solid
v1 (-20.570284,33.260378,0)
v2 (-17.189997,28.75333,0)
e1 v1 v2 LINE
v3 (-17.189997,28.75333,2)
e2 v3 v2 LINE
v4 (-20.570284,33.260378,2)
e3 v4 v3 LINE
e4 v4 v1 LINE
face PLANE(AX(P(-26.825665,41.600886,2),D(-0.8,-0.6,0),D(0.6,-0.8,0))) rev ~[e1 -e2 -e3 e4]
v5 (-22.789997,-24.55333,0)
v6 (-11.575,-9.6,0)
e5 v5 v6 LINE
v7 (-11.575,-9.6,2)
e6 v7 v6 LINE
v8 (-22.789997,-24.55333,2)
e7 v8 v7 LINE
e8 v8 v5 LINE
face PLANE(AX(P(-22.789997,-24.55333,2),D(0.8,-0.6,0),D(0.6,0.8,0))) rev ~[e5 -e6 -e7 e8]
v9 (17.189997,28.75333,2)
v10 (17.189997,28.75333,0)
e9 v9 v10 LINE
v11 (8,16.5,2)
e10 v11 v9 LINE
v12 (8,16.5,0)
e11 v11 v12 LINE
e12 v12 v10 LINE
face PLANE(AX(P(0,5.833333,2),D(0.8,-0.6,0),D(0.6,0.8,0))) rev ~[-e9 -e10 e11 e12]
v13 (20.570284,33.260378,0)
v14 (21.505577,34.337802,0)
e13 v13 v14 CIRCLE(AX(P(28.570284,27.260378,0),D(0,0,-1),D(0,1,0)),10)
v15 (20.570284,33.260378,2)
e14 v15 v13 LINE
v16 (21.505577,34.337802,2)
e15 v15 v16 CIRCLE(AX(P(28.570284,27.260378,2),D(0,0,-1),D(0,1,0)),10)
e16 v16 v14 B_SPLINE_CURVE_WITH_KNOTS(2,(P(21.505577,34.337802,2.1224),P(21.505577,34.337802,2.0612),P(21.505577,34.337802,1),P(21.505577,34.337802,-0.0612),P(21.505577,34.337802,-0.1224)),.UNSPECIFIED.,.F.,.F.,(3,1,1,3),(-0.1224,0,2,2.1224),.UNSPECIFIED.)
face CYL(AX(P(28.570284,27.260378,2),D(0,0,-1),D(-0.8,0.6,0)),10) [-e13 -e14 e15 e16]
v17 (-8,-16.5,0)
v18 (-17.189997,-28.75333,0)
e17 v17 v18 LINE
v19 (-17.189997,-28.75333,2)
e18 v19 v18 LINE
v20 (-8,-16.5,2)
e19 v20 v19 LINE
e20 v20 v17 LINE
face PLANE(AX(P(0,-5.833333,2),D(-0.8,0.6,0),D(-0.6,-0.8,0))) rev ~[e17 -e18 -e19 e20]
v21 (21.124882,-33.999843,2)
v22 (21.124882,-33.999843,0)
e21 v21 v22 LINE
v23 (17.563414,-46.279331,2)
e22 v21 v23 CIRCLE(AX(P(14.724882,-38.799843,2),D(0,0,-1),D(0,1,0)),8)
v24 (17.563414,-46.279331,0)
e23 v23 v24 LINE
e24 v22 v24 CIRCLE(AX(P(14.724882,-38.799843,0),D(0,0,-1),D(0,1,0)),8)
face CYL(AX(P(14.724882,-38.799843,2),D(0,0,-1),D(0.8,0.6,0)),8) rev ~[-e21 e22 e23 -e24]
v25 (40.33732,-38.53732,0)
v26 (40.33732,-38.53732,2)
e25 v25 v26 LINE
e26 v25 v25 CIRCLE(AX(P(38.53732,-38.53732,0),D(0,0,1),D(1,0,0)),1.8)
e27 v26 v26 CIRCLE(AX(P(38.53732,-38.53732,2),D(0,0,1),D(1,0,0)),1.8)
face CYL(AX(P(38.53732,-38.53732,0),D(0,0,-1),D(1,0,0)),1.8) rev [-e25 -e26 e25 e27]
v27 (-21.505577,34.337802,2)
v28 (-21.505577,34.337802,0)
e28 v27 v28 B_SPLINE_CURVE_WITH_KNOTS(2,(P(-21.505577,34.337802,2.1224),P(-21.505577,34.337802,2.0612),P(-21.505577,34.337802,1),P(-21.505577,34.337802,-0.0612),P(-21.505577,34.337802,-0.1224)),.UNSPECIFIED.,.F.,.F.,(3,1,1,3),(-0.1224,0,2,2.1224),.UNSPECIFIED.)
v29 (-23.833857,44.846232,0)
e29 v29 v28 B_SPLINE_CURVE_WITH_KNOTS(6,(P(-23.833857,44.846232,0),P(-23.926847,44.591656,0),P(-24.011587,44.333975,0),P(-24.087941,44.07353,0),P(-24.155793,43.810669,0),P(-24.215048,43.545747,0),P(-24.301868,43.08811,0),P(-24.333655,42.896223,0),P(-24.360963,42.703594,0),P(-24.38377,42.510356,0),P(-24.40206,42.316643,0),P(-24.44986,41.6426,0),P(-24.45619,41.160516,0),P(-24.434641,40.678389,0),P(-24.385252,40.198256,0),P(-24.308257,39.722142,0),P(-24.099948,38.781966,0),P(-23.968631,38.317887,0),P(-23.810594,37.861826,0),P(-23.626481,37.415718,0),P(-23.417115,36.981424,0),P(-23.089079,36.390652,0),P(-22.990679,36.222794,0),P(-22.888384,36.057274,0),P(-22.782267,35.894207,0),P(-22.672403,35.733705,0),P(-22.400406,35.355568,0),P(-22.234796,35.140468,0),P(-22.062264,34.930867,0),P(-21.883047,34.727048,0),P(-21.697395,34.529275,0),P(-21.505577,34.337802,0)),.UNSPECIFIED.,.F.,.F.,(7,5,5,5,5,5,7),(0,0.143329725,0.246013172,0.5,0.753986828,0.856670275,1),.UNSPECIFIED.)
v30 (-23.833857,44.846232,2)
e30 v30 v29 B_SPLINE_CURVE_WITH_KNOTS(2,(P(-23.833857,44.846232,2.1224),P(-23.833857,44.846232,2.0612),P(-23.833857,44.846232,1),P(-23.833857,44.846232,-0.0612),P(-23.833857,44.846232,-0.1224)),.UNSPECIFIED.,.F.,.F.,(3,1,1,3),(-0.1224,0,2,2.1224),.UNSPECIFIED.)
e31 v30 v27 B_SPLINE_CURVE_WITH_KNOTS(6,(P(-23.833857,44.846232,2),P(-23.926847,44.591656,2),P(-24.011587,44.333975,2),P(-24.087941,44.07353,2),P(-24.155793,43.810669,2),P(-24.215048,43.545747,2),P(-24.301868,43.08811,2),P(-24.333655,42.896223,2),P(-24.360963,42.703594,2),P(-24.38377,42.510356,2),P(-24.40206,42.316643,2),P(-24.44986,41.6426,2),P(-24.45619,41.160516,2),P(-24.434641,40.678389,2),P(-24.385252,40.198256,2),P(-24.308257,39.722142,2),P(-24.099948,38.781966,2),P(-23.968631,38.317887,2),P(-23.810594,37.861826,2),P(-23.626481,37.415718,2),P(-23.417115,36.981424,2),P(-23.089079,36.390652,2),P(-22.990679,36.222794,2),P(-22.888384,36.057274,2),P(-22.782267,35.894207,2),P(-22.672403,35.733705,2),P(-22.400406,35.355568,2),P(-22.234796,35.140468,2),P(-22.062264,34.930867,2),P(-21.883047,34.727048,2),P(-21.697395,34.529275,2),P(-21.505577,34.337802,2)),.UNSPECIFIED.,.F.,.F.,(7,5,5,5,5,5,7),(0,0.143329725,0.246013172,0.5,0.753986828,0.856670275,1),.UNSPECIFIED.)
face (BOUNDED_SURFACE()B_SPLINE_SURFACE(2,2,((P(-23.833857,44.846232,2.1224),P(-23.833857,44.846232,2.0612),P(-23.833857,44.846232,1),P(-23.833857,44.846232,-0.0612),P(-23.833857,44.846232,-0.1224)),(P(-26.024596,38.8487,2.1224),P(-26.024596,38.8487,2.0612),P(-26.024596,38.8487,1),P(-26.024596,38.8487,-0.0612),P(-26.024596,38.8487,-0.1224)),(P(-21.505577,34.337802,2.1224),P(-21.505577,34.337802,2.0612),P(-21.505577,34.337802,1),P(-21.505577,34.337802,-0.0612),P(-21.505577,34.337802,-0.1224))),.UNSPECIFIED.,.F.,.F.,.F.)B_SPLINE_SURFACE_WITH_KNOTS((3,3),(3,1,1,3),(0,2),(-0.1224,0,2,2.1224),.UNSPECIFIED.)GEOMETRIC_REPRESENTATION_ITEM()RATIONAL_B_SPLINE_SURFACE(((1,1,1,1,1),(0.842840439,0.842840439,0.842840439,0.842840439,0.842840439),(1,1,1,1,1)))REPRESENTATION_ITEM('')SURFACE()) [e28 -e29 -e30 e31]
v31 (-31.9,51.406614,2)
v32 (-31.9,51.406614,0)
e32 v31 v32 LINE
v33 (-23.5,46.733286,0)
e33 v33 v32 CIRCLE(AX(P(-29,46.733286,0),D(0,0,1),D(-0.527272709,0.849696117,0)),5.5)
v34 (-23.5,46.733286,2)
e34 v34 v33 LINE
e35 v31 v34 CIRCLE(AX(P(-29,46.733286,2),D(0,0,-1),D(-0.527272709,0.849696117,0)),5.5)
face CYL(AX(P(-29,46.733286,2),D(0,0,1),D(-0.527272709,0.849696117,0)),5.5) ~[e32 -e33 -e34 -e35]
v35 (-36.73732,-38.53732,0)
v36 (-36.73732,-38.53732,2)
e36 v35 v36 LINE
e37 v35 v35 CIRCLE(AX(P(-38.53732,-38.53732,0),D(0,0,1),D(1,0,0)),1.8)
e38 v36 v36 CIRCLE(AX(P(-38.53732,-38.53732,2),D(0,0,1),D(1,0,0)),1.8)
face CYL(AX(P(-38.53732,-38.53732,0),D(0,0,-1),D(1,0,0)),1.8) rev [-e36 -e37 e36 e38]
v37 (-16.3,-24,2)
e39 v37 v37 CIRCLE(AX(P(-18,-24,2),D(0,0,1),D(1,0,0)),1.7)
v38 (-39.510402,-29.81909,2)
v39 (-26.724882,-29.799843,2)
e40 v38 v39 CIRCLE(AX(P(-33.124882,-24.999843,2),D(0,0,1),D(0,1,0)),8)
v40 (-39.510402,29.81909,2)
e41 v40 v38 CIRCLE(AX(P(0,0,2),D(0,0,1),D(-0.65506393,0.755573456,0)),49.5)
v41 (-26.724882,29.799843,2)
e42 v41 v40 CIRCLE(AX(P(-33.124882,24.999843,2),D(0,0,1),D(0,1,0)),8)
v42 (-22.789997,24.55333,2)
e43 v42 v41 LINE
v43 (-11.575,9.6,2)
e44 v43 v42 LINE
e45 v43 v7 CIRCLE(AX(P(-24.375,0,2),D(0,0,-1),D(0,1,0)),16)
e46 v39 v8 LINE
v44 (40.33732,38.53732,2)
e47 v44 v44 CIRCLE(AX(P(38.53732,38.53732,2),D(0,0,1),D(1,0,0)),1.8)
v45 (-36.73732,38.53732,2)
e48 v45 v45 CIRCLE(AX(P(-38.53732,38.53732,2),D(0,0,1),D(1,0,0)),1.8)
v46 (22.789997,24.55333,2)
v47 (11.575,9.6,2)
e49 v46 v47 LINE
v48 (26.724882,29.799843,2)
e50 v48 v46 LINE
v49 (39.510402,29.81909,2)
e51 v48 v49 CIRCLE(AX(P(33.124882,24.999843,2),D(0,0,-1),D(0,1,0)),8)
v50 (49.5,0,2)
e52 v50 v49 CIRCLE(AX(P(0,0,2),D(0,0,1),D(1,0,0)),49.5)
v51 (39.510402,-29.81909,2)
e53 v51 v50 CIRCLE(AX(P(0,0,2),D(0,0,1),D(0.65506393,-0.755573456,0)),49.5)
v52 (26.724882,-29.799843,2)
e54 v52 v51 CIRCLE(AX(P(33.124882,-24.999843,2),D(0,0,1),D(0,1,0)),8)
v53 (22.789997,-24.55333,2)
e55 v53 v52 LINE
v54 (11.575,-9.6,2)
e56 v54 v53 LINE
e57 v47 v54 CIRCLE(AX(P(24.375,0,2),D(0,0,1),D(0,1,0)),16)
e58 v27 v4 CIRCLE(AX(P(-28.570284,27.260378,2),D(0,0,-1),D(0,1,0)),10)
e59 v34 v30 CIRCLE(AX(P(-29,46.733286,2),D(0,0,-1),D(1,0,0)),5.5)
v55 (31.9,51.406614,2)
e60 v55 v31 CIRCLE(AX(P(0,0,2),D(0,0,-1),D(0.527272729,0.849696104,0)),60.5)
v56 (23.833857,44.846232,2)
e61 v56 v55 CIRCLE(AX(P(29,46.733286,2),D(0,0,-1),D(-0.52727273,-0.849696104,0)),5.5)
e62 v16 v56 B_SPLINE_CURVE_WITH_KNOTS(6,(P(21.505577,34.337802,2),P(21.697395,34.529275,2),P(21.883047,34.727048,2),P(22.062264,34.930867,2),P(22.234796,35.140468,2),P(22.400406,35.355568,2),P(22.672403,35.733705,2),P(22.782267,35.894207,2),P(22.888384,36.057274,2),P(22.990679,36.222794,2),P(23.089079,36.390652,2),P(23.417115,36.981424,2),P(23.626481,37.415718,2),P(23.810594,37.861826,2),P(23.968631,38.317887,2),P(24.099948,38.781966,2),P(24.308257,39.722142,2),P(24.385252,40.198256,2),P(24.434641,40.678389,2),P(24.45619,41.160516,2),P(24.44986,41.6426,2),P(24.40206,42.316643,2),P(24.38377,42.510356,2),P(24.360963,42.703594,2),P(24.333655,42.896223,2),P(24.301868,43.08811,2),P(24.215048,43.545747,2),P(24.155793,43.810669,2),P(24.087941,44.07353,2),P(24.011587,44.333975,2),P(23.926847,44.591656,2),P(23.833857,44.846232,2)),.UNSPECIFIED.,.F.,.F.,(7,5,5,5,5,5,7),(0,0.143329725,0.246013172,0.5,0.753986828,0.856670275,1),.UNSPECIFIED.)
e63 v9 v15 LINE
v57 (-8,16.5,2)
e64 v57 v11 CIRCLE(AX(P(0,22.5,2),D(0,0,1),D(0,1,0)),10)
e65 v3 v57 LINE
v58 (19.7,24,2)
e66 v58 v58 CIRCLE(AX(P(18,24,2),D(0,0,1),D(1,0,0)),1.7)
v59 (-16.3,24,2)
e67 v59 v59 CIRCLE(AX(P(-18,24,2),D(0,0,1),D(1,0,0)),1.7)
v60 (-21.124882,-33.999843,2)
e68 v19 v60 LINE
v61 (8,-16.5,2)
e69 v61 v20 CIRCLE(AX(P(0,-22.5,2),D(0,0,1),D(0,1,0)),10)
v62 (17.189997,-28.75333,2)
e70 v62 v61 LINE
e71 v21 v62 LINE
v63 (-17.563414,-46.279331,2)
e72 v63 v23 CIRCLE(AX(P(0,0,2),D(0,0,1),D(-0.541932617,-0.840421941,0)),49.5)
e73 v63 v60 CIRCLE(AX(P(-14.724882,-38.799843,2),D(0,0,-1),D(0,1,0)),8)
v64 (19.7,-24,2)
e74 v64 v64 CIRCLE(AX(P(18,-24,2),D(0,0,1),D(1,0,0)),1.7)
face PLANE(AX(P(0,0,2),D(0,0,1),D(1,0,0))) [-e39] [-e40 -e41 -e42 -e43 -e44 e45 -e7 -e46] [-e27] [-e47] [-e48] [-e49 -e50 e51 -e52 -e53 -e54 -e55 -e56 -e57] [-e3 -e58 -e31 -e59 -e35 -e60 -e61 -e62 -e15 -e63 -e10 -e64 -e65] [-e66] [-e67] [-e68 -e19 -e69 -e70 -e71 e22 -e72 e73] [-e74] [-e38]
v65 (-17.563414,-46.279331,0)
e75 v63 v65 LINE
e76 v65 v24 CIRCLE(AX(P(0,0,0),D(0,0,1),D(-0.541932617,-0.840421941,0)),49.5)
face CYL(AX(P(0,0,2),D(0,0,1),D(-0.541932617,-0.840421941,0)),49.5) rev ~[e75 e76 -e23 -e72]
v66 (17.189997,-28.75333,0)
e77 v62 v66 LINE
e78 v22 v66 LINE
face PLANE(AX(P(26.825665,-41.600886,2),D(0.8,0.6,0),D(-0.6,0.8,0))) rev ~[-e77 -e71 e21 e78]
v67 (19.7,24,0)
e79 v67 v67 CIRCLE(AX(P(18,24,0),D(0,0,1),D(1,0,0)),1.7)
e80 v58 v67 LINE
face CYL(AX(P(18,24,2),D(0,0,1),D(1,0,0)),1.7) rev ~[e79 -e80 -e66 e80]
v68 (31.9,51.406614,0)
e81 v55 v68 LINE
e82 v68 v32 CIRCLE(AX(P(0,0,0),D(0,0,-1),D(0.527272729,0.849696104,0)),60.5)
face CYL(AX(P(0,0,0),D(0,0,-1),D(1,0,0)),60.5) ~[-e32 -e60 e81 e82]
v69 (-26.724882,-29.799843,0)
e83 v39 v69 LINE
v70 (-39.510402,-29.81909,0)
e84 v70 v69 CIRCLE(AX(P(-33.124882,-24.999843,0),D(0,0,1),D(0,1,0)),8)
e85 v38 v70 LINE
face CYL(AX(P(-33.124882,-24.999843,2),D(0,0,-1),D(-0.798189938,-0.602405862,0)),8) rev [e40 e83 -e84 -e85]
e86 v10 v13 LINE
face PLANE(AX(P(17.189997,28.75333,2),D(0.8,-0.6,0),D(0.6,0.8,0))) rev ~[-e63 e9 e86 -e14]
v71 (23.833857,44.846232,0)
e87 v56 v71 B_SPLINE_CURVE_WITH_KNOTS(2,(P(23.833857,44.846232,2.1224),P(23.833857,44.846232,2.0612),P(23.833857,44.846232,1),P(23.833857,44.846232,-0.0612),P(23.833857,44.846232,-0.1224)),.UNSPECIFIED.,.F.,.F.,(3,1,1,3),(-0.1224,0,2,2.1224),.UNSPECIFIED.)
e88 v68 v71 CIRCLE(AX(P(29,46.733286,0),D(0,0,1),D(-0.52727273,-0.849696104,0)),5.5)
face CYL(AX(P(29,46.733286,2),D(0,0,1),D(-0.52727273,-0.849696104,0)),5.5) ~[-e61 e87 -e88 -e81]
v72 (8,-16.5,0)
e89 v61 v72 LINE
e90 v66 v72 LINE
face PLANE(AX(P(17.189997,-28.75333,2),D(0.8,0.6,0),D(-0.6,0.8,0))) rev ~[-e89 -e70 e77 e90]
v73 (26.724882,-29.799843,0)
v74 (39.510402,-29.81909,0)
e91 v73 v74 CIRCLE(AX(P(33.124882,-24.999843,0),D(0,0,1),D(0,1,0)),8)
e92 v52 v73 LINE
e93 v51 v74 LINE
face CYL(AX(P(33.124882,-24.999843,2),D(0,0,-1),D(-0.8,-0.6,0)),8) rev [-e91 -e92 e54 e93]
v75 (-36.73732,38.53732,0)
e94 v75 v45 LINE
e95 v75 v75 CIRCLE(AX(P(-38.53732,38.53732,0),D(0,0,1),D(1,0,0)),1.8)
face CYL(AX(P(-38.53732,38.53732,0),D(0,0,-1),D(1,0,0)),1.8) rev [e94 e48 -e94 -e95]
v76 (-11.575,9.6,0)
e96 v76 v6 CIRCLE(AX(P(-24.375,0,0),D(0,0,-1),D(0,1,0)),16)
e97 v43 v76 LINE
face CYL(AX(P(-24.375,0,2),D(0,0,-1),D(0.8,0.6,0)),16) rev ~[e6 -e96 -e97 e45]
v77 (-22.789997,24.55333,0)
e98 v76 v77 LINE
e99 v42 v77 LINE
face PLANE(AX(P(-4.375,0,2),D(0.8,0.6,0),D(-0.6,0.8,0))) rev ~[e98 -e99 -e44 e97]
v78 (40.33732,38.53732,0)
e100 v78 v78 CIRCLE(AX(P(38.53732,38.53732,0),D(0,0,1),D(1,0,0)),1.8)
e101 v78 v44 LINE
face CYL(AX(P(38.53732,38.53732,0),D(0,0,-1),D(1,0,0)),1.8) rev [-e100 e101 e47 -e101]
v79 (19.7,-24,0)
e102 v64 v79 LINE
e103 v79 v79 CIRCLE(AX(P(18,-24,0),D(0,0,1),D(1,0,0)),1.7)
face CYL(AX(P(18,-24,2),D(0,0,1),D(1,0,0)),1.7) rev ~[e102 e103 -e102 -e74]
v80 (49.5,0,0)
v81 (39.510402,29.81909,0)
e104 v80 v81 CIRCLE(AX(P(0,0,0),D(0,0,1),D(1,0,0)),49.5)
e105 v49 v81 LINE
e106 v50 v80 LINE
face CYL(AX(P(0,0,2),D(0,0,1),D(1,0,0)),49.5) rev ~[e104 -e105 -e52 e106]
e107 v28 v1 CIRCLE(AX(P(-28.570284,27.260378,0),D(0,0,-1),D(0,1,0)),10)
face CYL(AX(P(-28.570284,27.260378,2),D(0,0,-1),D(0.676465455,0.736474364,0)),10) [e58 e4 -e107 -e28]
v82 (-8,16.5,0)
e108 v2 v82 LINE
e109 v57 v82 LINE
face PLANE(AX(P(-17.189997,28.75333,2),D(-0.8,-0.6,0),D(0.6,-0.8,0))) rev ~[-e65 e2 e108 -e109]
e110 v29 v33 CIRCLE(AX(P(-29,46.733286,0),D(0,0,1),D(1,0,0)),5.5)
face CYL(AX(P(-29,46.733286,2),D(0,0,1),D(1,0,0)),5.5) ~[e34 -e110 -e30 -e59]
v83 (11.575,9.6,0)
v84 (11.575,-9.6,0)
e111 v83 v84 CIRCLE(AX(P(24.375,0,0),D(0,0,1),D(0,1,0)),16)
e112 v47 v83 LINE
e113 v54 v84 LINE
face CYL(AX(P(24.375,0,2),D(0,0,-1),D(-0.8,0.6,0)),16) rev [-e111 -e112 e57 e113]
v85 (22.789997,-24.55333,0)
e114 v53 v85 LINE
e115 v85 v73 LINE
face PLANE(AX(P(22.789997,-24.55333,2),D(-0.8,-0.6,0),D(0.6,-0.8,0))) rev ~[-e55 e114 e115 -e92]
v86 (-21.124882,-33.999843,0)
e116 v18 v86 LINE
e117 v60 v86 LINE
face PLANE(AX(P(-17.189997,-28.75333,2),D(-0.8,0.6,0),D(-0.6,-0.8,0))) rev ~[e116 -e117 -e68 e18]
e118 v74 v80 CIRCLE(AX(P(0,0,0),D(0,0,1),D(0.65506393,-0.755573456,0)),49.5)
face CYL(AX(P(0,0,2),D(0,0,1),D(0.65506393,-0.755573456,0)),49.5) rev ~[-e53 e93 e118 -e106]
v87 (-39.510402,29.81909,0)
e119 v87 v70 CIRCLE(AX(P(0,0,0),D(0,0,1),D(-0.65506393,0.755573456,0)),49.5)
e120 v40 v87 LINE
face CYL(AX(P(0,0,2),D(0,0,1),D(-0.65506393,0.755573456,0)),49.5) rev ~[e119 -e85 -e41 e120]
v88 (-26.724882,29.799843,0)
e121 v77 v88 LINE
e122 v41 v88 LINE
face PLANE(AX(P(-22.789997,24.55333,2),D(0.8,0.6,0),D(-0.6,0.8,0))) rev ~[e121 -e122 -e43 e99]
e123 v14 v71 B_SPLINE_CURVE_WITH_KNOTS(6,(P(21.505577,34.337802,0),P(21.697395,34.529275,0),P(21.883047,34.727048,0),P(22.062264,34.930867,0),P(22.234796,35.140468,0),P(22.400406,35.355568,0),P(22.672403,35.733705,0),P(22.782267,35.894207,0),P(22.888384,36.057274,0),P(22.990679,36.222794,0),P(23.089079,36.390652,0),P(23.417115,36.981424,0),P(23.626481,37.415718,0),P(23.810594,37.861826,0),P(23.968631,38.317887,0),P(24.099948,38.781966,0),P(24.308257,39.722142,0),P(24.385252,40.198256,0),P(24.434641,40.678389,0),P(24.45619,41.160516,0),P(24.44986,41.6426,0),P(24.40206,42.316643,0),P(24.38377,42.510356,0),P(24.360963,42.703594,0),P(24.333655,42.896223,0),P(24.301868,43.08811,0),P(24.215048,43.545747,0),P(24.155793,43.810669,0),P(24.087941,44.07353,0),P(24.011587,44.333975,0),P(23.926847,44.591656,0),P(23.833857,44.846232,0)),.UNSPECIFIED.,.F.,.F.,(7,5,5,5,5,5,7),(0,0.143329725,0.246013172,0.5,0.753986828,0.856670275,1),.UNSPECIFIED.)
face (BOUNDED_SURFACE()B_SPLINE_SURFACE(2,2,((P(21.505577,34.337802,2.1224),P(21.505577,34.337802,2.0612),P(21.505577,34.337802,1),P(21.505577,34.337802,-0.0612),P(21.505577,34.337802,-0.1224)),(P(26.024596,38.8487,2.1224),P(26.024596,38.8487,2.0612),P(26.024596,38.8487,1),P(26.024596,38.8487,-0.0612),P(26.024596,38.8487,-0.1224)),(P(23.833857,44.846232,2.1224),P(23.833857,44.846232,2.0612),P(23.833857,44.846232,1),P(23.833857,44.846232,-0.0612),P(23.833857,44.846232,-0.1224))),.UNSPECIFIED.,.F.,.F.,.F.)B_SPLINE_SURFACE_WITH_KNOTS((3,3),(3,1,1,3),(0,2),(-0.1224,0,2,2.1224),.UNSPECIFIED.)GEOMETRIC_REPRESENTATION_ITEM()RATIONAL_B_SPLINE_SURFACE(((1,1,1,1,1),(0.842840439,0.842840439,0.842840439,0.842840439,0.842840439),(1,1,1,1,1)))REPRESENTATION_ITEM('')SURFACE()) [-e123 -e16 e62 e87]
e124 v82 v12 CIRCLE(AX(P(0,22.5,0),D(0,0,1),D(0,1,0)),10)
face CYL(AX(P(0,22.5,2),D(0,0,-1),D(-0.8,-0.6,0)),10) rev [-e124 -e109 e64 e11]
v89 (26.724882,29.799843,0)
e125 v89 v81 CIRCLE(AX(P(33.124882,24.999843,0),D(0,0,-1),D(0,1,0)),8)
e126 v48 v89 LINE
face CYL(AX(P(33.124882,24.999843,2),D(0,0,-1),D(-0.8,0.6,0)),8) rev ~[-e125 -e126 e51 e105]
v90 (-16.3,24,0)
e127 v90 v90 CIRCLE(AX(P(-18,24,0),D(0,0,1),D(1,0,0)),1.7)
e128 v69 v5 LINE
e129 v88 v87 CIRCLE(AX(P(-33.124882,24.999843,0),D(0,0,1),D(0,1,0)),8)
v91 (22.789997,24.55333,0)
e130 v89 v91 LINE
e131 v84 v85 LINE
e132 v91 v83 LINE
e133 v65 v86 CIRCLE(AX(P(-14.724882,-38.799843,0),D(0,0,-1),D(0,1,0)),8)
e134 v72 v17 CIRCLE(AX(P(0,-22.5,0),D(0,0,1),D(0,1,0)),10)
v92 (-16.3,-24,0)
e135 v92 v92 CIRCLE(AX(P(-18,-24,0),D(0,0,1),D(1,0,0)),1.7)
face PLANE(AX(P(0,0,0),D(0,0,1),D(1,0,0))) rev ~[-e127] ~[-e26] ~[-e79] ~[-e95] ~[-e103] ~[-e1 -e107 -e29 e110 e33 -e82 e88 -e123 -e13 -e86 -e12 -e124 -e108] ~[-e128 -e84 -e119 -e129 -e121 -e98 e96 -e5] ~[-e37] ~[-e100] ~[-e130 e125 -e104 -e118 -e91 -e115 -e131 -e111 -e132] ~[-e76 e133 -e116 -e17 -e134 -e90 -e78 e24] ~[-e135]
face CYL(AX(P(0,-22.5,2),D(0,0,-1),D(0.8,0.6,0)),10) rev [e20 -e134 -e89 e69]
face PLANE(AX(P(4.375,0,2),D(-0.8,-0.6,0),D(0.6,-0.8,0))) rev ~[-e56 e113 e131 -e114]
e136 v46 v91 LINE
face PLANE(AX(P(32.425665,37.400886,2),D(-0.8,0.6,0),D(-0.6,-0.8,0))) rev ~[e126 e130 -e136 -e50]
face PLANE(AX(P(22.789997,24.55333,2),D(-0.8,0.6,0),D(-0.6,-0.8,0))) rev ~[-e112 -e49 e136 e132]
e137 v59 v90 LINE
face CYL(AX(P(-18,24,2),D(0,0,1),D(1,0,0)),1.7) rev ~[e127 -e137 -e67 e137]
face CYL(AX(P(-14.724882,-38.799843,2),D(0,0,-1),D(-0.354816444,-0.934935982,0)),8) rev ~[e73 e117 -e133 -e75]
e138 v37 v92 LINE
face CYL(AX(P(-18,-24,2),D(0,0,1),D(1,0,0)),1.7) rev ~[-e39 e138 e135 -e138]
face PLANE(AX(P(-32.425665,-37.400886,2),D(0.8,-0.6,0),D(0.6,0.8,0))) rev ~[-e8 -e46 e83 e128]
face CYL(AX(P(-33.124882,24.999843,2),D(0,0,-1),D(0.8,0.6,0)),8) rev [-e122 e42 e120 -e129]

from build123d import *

# Parameters (mm, degrees)
SKETCH_1_R          = 60.5
SKETCH_1_R_2        = 1.8
EXTRUDE_1_DEPTH     = 2
SKETCH_2_R          = 1.7
CUT_EXTRUDE_1_DEPTH = 2
FILLET_2_R          = 16
FILLET_3_R          = 10
FILLET_4_R          = 8
FILLET_5_R          = 8
CUT_EXTRUDE_4_DEPTH = 10
FILLET_7_R          = 10
FILLET_8_R          = 10


with BuildPart() as part:
    # 草图1 → 凸台-拉伸1 (new body)
    with BuildSketch(Plane.XY):
        Circle(SKETCH_1_R)
        with Locations((38.537319575, 38.537319575)):
            Circle(SKETCH_1_R_2, mode=Mode.SUBTRACT)
        with Locations((38.537319575, -38.537319575)):
            Circle(SKETCH_1_R_2, mode=Mode.SUBTRACT)
        with Locations((-38.537319575, -38.537319575)):
            Circle(SKETCH_1_R_2, mode=Mode.SUBTRACT)
        with Locations((-38.537319575, 38.537319575)):
            Circle(SKETCH_1_R_2, mode=Mode.SUBTRACT)
    extrude(amount=EXTRUDE_1_DEPTH)

    # 草图2 → 切除-拉伸1 (cut)
    with BuildSketch(Plane.XY.offset(2)):
        with BuildLine():
            Line((-4.375, 0), (-22.789997499, 24.553329998))
            ThreePointArc((-22.789997499, 24.553329998), (-33.5, 0), (-22.789997499, -24.553329998))
            Line((-22.789997499, -24.553329998), (-4.375, 0))
        make_face()
        with BuildLine():
            Line((-22.789997499, 24.553329998), (-32.42566455, 37.400886066))
            ThreePointArc((-32.42566455, 37.400886066), (-49.5, 0), (-32.42566455, -37.400886066))
            Line((-32.42566455, -37.400886066), (-22.789997499, -24.553329998))
            ThreePointArc((-22.789997499, -24.553329998), (-33.5, 0), (-22.789997499, 24.553329998))
        make_face()
        with BuildLine():
            Line((17.189997499, 28.753329998), (26.82566455, 41.600886066))
            ThreePointArc((26.82566455, 41.600886066), (0, 49.5), (-26.82566455, 41.600886066))
            Line((-26.82566455, 41.600886066), (-17.189997499, 28.753329998))
            ThreePointArc((-17.189997499, 28.753329998), (0, 33.5), (17.189997499, 28.753329998))
        make_face()
        with BuildLine():
            Line((0, 5.833333333), (17.189997499, 28.753329998))
            ThreePointArc((17.189997499, 28.753329998), (0, 33.5), (-17.189997499, 28.753329998))
            Line((-17.189997499, 28.753329998), (0, 5.833333333))
        make_face()
        with BuildLine():
            ThreePointArc((49.5, 0), (45.02954805, 20.556989138), (32.42566455, 37.400886066))
            Line((32.42566455, 37.400886066), (22.789997499, 24.553329998))
            ThreePointArc((22.789997499, 24.553329998), (30.705984076, 13.393750106), (33.5, 0))
            ThreePointArc((33.5, 0), (30.705984076, -13.393750106), (22.789997499, -24.553329998))
            Line((22.789997499, -24.553329998), (32.42566455, -37.400886066))
            ThreePointArc((32.42566455, -37.400886066), (45.02954805, -20.556989138), (49.5, 0))
        make_face()
        with BuildLine():
            ThreePointArc((33.5, 0), (30.705984076, 13.393750106), (22.789997499, 24.553329998))
            Line((22.789997499, 24.553329998), (4.375, 0))
            Line((4.375, 0), (22.789997499, -24.553329998))
            ThreePointArc((22.789997499, -24.553329998), (30.705984076, -13.393750106), (33.5, 0))
        make_face()
        with BuildLine():
            ThreePointArc((-26.82566455, -41.600886066), (0, -49.5), (26.82566455, -41.600886066))
            Line((26.82566455, -41.600886066), (17.189997499, -28.753329998))
            ThreePointArc((17.189997499, -28.753329998), (0, -33.5), (-17.189997499, -28.753329998))
            Line((-17.189997499, -28.753329998), (-26.82566455, -41.600886066))
        make_face()
        with BuildLine():
            ThreePointArc((-17.189997499, -28.753329998), (0, -33.5), (17.189997499, -28.753329998))
            Line((17.189997499, -28.753329998), (0, -5.833333333))
            Line((0, -5.833333333), (-17.189997499, -28.753329998))
        make_face()
        with Locations((18, 24)):
            Circle(SKETCH_2_R)
        with Locations((-18, 24)):
            Circle(SKETCH_2_R)
        with Locations((-18, -24)):
            Circle(SKETCH_2_R)
        with Locations((18, -24)):
            Circle(SKETCH_2_R)
    extrude(amount=-CUT_EXTRUDE_1_DEPTH, mode=Mode.SUBTRACT)

    # 圆角2
    fillet_2_edges = [part.edges().sort_by_distance(p)[0] for p in [
        (4.375, 0, 1),
        (-4.375, 0, 1),
    ]]
    fillet(fillet_2_edges, radius=FILLET_2_R)

    # 圆角3
    fillet_3_edges = [part.edges().sort_by_distance(p)[0] for p in [
        (0, -5.833333333, 1),
        (0, 5.833333333, 1),
    ]]
    fillet(fillet_3_edges, radius=FILLET_3_R)

    # 圆角4
    fillet_4_edges = [part.edges().sort_by_distance(p)[0] for p in [
        (26.82566455, -41.600886066, 1),
        (-26.82566455, -41.600886066, 1),
        (-26.82566455, 41.600886066, 1),
        (26.82566455, 41.600886066, 1),
    ]]
    fillet(fillet_4_edges, radius=FILLET_4_R)

    # 圆角5
    fillet_5_edges = [part.edges().sort_by_distance(p)[0] for p in [
        (32.42566455, 37.400886066, 1),
        (32.42566455, -37.400886066, 1),
        (-32.42566455, 37.400886066, 1),
        (-32.42566455, -37.400886066, 1),
    ]]
    fillet(fillet_5_edges, radius=FILLET_5_R)

    # 草图3 → 切除-拉伸4 (cut)
    with BuildSketch(Plane.XY.offset(2)):
        with BuildLine():
            ThreePointArc((-21.124882445, 33.99984326), (-22.40824576, 41.02827952), (-17.563414, 46.279331117))
            ThreePointArc((-17.563414, 46.279331117), (-21.933404034, 44.375396195), (-26.100000126, 42.059957126))
            ThreePointArc((-26.100000126, 42.059957126), (-27.216559114, 41.346207927), (-28.313611465, 40.602825096))
            Line((-28.313611465, 40.602825096), (-21.124882445, 33.99984326))
        make_face()
        with BuildLine():
            ThreePointArc((-17.563414, 46.279331117), (-8.928132775, 48.688175619), (0, 49.5))
            Line((0, 49.5), (0, 60.5))
            ThreePointArc((0, 60.5), (-16.58538253, 58.182257487), (-31.899999898, 51.406614424))
            ThreePointArc((-31.899999898, 51.406614424), (-26.326051556, 51.539531689), (-23.5, 46.733285782))
            ThreePointArc((-23.5, 46.733285782), (-24.1937541, 44.059337326), (-26.100000126, 42.059957126))
            ThreePointArc((-26.100000126, 42.059957126), (-21.933404034, 44.375396195), (-17.563414, 46.279331117))
        make_face()
        with BuildLine():
            Line((0, 60.5), (0, 49.5))
            ThreePointArc((0, 49.5), (8.928132775, 48.688175619), (17.563414, 46.279331117))
            ThreePointArc((17.563414, 46.279331117), (21.933403961, 44.375396231), (26.099999987, 42.059957212))
            ThreePointArc((26.099999987, 42.059957212), (24.32667146, 49.633285844), (31.900000111, 51.406614291))
            ThreePointArc((31.900000111, 51.406614291), (16.585382651, 58.182257453), (0, 60.5))
        make_face()
        with BuildLine():
            ThreePointArc((26.099999987, 42.059957212), (21.933403961, 44.375396231), (17.563414, 46.279331117))
            ThreePointArc((17.563414, 46.279331117), (22.40824576, 41.02827952), (21.124882445, 33.99984326))
            Line((21.124882445, 33.99984326), (28.313611465, 40.602825096))
            ThreePointArc((28.313611465, 40.602825096), (27.216559046, 41.346207972), (26.099999987, 42.059957212))
        make_face()
    extrude(amount=-CUT_EXTRUDE_4_DEPTH, mode=Mode.SUBTRACT)

    # 圆角7
    fillet_7_edges = [part.edges().sort_by_distance(p)[0] for p in [
        (21.124882445, 33.99984326, 1),
        (-21.124882445, 33.99984326, 1),
    ]]
    fillet(fillet_7_edges, radius=FILLET_7_R)

    # 圆角8
    fillet_8_edges = [part.edges().sort_by_distance(p)[0] for p in [
        (28.313611465, 40.602825096, 1),
        (-28.313611465, 40.602825096, 1),
    ]]
    fillet(fillet_8_edges, radius=FILLET_8_R)


solid = part.part
